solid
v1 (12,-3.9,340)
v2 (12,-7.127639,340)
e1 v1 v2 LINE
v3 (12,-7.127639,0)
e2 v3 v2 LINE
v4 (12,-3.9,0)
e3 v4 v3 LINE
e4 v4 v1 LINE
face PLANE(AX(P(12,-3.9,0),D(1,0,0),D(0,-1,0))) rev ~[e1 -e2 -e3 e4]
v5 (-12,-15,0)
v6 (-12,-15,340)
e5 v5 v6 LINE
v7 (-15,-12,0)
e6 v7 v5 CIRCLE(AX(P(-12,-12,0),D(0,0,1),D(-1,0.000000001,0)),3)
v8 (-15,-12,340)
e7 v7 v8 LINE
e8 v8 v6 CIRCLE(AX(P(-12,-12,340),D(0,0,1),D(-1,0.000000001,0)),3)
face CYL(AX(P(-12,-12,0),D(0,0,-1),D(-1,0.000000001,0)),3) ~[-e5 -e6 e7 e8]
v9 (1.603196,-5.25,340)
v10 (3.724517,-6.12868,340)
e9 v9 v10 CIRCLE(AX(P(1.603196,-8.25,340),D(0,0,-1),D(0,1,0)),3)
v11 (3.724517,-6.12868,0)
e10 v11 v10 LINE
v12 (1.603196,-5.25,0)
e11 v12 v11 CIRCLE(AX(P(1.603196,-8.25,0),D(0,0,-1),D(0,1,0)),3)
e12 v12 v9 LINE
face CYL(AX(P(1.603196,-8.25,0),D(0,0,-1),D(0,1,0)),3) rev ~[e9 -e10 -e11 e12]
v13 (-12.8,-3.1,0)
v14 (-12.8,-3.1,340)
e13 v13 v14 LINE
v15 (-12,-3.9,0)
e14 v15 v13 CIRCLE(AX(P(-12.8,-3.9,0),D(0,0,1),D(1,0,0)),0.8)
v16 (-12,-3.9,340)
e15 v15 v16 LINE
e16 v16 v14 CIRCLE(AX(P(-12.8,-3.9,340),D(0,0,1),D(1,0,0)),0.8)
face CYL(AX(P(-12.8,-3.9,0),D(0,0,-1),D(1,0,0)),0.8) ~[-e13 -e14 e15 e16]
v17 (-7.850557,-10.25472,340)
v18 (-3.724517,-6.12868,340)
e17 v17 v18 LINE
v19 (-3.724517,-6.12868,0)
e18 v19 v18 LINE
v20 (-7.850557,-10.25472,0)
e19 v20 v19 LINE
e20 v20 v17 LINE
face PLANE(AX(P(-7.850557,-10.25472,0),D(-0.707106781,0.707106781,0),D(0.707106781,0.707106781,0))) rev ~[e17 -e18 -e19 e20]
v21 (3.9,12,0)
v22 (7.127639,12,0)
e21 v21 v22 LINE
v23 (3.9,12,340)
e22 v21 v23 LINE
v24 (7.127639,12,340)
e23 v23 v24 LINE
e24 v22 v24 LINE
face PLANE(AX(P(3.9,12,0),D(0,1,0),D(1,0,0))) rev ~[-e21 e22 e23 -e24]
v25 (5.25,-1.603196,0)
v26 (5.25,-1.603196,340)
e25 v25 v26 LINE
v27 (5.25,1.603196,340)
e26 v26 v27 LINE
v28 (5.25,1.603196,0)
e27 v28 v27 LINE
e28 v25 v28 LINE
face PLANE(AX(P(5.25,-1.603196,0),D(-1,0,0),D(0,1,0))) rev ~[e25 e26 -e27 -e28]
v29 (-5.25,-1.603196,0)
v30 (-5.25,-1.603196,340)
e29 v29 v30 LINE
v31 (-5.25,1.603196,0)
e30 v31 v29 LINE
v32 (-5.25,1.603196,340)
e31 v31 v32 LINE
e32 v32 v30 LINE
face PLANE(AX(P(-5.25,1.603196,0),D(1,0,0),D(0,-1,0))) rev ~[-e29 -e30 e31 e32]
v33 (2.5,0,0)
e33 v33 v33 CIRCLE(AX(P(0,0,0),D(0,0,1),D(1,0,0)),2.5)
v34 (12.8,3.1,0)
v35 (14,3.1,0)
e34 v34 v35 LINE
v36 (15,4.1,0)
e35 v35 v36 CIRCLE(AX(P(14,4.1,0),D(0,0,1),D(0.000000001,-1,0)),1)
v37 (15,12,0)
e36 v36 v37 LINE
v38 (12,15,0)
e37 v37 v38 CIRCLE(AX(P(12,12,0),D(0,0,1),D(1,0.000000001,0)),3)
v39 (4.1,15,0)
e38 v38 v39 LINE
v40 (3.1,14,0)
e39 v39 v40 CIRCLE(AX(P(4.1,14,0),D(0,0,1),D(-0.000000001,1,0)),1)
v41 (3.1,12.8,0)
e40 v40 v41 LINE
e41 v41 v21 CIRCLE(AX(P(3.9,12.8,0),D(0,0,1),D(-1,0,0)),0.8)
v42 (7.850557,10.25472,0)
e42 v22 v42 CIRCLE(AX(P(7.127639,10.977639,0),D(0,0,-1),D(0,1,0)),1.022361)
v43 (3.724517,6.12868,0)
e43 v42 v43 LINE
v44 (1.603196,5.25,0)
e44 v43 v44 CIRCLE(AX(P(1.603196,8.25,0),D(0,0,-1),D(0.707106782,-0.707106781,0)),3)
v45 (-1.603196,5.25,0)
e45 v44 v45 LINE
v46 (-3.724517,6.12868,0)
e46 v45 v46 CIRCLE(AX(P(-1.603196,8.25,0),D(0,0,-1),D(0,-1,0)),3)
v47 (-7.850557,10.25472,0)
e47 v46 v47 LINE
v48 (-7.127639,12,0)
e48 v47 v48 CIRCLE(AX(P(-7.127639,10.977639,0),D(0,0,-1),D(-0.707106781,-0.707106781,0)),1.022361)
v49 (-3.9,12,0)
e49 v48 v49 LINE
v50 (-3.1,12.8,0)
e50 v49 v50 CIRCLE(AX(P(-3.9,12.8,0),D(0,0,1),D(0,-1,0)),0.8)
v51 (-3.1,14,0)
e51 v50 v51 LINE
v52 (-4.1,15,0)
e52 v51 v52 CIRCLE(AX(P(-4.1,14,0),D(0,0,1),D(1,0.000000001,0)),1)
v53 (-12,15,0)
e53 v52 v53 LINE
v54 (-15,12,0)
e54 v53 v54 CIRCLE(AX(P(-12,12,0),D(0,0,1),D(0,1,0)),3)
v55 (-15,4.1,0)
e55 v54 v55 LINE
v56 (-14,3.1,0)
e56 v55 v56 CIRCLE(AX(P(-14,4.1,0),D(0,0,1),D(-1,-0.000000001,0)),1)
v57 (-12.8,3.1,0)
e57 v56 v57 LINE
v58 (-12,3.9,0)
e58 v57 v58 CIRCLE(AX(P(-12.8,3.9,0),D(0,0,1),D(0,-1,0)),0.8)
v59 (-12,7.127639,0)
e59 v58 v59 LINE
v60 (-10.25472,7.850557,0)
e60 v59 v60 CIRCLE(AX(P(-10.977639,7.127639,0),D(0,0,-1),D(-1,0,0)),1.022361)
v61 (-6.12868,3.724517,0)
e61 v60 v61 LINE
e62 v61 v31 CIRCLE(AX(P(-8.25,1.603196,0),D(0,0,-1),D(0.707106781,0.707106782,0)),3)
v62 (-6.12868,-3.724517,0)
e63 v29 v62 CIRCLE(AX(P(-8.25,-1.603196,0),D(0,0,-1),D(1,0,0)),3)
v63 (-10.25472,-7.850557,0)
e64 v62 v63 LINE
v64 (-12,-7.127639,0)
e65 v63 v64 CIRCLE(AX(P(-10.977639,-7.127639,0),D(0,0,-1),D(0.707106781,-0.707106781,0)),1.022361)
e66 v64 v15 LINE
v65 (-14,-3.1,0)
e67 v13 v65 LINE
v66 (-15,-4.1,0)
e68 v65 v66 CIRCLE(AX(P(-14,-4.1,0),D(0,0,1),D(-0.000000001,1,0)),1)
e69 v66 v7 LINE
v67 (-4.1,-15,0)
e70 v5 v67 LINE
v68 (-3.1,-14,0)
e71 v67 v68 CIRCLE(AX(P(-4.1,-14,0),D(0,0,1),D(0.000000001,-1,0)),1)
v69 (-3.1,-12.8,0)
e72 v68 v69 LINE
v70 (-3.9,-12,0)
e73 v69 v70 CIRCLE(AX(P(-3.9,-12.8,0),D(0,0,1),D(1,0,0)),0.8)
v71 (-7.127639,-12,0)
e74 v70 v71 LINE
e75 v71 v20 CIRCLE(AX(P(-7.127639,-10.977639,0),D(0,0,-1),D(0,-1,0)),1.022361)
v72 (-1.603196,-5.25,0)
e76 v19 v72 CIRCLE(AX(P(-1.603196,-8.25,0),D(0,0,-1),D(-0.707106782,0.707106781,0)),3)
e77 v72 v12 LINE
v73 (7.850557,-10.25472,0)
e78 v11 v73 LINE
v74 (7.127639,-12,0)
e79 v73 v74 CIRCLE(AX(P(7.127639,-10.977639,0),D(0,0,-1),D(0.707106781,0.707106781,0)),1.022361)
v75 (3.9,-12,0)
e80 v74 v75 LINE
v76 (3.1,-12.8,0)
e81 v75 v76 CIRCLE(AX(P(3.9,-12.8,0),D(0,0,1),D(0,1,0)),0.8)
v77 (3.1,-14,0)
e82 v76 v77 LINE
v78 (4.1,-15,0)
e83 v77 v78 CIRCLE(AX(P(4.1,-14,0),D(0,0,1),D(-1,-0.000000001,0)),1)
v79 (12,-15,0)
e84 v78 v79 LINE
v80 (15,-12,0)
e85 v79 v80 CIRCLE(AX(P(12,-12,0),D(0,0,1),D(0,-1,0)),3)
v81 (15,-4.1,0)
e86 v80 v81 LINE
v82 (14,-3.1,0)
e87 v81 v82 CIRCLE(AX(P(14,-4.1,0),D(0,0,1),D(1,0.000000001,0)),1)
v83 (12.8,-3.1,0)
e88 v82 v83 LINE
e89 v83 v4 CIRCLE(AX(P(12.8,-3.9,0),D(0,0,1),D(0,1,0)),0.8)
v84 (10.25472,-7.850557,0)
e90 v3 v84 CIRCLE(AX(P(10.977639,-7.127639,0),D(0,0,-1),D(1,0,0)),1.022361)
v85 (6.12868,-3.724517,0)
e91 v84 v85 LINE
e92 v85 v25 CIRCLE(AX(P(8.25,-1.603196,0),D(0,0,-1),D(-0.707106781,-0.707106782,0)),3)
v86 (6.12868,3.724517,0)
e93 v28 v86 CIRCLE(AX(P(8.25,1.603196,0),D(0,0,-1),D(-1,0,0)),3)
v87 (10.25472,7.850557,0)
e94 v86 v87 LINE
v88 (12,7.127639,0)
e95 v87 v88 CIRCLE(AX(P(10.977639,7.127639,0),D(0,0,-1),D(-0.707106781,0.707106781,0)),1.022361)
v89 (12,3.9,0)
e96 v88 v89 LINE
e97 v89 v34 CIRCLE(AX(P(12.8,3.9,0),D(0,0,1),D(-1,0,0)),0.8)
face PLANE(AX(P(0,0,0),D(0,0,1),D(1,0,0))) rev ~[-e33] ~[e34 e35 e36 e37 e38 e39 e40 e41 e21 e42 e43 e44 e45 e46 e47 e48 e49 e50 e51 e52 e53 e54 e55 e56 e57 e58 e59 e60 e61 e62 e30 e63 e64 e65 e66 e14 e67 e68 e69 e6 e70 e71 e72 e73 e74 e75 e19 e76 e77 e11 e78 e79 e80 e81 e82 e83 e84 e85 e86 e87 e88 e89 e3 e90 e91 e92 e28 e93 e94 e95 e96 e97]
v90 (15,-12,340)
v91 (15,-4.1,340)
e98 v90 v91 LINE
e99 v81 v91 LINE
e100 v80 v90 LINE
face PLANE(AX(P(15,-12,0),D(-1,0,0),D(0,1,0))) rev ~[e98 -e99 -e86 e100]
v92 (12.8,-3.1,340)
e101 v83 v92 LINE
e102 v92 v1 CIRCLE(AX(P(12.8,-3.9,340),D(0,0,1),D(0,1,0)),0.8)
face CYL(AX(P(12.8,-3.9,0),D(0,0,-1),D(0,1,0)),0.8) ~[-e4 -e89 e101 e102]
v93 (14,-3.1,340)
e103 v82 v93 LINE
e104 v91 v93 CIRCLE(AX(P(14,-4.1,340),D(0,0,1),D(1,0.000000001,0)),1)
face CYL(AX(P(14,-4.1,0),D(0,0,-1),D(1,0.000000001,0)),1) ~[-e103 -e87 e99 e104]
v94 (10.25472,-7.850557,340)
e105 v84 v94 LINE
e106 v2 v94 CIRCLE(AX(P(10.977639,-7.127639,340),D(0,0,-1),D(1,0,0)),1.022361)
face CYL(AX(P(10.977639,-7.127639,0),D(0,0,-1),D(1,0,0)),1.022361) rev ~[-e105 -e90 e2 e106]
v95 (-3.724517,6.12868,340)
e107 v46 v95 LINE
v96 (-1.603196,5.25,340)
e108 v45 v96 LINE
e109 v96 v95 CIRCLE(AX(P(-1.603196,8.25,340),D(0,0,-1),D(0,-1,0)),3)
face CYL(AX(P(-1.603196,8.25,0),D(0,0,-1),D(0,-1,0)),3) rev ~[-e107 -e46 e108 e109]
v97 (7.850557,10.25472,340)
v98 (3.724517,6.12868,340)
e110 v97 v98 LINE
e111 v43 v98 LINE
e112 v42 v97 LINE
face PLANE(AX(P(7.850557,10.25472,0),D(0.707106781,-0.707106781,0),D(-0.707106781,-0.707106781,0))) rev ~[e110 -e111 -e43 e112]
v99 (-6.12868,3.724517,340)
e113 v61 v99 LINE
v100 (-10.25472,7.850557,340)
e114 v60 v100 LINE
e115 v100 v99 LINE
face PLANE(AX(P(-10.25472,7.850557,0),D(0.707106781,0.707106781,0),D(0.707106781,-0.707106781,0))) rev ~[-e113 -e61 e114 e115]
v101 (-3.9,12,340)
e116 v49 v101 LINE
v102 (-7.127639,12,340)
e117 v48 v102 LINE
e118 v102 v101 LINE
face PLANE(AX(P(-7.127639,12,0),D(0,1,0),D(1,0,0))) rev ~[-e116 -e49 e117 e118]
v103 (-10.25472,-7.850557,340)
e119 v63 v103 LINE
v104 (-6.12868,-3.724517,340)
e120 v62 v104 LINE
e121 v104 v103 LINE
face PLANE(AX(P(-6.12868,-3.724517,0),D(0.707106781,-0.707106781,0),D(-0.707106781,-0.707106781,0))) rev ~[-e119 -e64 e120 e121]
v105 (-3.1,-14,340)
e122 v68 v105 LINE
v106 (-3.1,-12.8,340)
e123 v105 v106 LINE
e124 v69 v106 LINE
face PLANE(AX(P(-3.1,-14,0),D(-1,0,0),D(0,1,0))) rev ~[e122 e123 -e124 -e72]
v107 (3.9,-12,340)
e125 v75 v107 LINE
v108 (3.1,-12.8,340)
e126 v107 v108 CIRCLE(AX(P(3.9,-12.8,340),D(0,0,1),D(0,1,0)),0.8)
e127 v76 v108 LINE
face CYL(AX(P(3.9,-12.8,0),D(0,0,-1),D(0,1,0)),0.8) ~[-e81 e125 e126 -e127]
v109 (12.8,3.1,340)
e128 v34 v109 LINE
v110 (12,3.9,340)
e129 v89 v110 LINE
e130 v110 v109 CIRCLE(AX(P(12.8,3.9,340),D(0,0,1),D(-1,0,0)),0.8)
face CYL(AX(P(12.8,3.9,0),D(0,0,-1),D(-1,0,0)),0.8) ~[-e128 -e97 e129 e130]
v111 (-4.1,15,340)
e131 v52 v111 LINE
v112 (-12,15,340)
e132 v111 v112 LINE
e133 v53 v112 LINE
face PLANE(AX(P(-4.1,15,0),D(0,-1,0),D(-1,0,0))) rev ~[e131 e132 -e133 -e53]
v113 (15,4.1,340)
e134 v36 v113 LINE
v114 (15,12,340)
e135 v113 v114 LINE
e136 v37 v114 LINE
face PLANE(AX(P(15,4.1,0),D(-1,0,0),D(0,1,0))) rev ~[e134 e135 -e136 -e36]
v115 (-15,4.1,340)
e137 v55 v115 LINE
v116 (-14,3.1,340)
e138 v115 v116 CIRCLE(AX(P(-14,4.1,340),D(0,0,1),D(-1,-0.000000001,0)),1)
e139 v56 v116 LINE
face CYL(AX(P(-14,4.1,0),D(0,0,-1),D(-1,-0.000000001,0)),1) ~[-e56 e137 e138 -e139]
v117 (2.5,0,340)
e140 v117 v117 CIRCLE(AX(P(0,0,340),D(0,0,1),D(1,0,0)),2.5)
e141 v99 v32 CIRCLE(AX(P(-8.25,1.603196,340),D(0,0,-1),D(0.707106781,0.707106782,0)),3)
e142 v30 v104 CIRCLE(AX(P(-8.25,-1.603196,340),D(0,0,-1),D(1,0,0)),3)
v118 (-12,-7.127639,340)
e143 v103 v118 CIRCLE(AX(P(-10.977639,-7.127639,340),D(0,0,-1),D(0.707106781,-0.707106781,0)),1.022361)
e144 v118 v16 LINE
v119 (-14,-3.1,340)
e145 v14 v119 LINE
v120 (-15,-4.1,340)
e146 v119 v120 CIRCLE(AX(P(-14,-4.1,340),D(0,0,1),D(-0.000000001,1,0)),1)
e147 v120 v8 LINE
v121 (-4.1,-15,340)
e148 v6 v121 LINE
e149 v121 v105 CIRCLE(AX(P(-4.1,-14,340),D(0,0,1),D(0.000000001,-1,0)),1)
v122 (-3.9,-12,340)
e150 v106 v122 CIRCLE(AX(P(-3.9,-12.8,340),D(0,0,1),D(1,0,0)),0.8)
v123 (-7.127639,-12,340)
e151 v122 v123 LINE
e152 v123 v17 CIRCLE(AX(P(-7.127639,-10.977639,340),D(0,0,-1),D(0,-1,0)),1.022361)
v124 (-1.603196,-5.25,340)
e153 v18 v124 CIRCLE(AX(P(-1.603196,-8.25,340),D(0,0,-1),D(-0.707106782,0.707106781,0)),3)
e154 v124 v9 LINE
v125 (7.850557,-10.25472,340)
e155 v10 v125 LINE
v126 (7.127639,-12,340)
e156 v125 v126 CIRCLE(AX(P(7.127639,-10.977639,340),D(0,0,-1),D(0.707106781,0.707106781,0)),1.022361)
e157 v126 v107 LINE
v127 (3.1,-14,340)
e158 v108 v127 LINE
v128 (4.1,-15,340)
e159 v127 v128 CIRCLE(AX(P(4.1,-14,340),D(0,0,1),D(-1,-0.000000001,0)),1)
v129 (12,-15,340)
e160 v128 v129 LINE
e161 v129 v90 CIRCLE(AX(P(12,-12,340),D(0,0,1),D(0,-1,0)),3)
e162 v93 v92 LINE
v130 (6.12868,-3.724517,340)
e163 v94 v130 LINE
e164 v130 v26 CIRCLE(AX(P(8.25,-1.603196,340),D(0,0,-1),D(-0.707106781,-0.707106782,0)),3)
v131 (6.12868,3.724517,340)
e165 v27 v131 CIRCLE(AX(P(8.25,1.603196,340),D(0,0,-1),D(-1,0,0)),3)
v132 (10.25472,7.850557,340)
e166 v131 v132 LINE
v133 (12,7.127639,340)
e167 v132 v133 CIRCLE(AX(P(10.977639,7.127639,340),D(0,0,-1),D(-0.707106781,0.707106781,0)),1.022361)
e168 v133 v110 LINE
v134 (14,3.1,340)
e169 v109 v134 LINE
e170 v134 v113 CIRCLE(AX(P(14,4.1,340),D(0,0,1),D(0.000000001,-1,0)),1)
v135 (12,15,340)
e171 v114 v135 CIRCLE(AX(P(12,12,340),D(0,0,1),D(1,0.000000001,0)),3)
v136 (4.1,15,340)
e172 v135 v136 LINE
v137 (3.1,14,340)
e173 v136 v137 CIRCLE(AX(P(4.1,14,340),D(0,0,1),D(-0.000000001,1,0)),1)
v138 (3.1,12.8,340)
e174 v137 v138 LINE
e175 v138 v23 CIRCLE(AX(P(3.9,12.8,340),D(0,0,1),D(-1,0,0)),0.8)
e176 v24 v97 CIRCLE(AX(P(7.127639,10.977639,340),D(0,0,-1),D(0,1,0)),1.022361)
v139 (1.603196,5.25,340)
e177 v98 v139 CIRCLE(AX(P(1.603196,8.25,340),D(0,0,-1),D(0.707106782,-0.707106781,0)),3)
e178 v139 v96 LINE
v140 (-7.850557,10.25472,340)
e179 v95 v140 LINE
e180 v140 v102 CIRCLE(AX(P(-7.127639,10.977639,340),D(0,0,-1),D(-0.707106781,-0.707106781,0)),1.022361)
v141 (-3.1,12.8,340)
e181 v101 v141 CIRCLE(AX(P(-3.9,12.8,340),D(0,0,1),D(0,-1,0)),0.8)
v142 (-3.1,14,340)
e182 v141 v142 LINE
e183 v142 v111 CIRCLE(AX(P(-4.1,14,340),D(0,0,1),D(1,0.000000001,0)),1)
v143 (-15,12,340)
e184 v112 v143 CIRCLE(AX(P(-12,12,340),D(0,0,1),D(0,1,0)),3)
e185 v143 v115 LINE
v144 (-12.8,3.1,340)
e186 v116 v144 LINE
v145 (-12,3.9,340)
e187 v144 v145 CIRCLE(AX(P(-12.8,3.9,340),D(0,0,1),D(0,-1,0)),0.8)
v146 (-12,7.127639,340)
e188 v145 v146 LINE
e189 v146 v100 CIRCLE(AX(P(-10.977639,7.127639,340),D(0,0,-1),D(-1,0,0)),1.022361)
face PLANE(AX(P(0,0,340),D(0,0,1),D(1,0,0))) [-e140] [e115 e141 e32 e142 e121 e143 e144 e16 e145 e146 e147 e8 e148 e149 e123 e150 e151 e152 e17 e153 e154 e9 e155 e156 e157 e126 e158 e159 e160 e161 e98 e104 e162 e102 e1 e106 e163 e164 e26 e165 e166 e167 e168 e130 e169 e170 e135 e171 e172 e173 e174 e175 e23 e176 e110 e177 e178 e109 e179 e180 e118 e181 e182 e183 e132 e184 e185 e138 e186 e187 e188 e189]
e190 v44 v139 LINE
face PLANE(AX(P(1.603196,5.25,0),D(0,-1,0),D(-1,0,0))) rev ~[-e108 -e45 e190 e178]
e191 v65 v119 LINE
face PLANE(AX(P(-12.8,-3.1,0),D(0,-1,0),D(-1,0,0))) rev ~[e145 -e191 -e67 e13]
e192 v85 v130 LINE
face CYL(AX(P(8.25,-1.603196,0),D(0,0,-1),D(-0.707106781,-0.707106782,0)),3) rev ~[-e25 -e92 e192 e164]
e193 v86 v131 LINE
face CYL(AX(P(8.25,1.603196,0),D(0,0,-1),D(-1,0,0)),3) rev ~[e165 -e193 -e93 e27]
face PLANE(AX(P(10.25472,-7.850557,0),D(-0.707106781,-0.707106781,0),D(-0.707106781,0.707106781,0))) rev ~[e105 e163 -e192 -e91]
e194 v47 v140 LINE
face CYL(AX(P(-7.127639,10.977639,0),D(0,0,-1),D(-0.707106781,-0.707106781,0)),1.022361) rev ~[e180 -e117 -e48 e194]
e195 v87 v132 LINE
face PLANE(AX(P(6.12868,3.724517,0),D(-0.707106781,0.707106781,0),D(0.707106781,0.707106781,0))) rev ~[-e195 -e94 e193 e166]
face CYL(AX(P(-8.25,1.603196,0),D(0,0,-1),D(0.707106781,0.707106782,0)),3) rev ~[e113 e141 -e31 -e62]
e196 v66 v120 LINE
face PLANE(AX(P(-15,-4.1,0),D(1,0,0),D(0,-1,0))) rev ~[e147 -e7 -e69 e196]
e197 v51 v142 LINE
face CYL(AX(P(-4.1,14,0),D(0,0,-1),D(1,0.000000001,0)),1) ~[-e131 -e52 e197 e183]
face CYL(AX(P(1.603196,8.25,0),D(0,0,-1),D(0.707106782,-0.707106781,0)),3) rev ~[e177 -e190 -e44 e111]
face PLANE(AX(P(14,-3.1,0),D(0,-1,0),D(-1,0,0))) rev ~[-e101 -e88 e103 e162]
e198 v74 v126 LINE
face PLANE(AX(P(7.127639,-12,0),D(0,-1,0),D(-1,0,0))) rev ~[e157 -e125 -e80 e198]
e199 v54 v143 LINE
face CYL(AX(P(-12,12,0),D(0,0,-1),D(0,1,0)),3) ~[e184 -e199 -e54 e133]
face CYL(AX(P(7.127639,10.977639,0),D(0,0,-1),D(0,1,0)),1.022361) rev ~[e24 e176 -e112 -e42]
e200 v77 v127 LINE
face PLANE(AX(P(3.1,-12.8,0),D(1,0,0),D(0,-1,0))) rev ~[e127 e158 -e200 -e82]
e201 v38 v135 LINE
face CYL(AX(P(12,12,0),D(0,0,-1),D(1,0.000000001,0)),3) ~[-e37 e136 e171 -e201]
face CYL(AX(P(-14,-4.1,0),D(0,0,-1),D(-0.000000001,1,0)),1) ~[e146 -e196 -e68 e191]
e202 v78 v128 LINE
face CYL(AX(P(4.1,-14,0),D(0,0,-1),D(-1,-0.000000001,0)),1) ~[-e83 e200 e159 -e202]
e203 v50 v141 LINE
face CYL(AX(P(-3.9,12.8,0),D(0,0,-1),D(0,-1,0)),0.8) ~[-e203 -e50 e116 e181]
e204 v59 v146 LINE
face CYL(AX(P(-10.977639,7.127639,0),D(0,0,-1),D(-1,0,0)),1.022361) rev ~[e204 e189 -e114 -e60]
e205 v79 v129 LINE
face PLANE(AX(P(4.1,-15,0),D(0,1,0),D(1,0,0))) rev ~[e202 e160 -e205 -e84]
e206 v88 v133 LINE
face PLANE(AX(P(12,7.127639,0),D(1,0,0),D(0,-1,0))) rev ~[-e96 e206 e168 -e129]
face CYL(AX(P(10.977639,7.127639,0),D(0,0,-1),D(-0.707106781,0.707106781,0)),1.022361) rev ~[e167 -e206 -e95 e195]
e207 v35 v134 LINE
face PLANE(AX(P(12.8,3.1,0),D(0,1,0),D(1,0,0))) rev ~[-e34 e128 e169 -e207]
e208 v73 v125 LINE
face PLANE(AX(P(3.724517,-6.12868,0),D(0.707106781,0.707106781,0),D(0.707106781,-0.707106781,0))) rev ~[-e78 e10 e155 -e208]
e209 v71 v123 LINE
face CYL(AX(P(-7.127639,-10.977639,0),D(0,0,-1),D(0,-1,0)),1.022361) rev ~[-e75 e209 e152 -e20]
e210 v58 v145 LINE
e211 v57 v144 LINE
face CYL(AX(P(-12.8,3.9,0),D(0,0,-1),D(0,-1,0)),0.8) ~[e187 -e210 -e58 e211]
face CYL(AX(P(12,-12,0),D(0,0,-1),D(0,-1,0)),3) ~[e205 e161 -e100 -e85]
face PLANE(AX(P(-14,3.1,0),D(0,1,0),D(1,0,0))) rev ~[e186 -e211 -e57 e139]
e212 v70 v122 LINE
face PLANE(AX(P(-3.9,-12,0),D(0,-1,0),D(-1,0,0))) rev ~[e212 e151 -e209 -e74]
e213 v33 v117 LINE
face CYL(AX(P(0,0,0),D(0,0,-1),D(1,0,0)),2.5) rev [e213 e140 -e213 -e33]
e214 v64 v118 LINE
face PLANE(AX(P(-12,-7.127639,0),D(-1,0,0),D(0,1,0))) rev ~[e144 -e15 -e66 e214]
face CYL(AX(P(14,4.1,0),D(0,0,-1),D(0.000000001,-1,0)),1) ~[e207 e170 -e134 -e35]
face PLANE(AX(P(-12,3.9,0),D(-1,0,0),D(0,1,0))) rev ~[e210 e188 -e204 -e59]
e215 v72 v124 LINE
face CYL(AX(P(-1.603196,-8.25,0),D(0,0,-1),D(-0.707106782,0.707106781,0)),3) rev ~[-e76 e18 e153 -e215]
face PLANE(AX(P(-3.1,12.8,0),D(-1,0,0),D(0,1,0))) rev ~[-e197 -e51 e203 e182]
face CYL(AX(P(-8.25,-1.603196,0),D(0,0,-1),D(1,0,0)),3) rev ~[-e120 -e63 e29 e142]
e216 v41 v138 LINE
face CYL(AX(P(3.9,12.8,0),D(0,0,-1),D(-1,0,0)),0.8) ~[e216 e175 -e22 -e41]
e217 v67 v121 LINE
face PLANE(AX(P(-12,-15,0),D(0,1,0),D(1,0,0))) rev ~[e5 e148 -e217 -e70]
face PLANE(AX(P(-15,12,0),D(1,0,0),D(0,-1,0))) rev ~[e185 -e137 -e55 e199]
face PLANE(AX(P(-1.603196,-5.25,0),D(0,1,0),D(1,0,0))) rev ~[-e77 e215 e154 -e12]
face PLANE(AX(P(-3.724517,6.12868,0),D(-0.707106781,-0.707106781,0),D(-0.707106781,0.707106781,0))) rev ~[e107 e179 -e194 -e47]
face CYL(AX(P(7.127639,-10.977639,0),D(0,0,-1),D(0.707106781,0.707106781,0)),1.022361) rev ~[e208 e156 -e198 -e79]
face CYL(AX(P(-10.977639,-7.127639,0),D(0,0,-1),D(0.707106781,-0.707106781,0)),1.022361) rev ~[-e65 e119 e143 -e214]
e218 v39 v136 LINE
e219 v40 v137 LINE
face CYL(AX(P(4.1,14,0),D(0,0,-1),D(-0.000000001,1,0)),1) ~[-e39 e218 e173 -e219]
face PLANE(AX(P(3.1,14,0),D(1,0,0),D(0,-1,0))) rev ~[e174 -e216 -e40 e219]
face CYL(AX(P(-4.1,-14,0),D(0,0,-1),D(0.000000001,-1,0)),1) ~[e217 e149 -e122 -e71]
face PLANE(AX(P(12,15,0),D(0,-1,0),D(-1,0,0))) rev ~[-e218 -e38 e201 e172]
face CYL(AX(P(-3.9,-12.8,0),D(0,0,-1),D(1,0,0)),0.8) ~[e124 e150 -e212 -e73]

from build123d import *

# Parameters (mm, degrees)
BOSS_EXTRU_1_DEPTH = 340


with BuildPart() as part:
    # Esquisse1 → Boss.-Extru.1 (new body)
    with BuildSketch(Plane.XY):
        with BuildLine():
            Line((-5.250000005, 1.60319626), (-5.250000005, -1.60319626))
            ThreePointArc((-5.250000005, -1.60319626), (-5.478361407, -2.751246556), (-6.128679661, -3.724516602))
            Line((-6.128679661, -3.724516602), (-10.254720421, -7.850557362))
            ThreePointArc((-10.254720421, -7.850557362), (-11.36887955, -8.072177392), (-12, -7.12763889))
            Line((-12, -7.12763889), (-12, -3.9))
            ThreePointArc((-12, -3.9), (-12.234314575, -3.334314575), (-12.8, -3.1))
            Line((-12.8, -3.1), (-14, -3.1))
            ThreePointArc((-14, -3.1), (-14.707106781, -3.392893219), (-15, -4.1))
            Line((-15, -4.1), (-15, -12))
            ThreePointArc((-15, -12), (-14.121320344, -14.121320344), (-12, -15))
            Line((-12, -15), (-4.1, -15))
            ThreePointArc((-4.1, -15), (-3.392893219, -14.707106781), (-3.1, -14))
            Line((-3.1, -14), (-3.1, -12.8))
            ThreePointArc((-3.1, -12.8), (-3.334314575, -12.234314575), (-3.9, -12))
            Line((-3.9, -12), (-7.12763889, -12))
            ThreePointArc((-7.12763889, -12), (-8.072177392, -11.36887955), (-7.850557362, -10.254720421))
            Line((-7.850557362, -10.254720421), (-3.724516602, -6.128679661))
            ThreePointArc((-3.724516602, -6.128679661), (-2.751246556, -5.478361407), (-1.60319626, -5.250000005))
            Line((-1.60319626, -5.250000005), (1.60319626, -5.250000005))
            ThreePointArc((1.60319626, -5.250000005), (2.751246556, -5.478361407), (3.724516602, -6.128679661))
            Line((3.724516602, -6.128679661), (7.850557362, -10.254720421))
            ThreePointArc((7.850557362, -10.254720421), (8.072177392, -11.36887955), (7.12763889, -12))
            Line((7.12763889, -12), (3.9, -12))
            ThreePointArc((3.9, -12), (3.334314575, -12.234314575), (3.1, -12.8))
            Line((3.1, -12.8), (3.1, -14))
            ThreePointArc((3.1, -14), (3.392893219, -14.707106781), (4.1, -15))
            Line((4.1, -15), (12, -15))
            ThreePointArc((12, -15), (14.121320343, -14.121320344), (15, -12))
            Line((15, -12), (15, -4.1))
            ThreePointArc((15, -4.1), (14.707106781, -3.392893219), (14, -3.1))
            Line((14, -3.1), (12.8, -3.1))
            ThreePointArc((12.8, -3.1), (12.234314575, -3.334314575), (12, -3.9))
            Line((12, -3.9), (12, -7.12763889))
            ThreePointArc((12, -7.12763889), (11.36887955, -8.072177392), (10.254720421, -7.850557362))
            Line((10.254720421, -7.850557362), (6.128679661, -3.724516602))
            ThreePointArc((6.128679661, -3.724516602), (5.478361407, -2.751246556), (5.250000005, -1.60319626))
            Line((5.250000005, -1.60319626), (5.250000005, 1.60319626))
            ThreePointArc((5.250000005, 1.60319626), (5.478361407, 2.751246556), (6.128679661, 3.724516602))
            Line((6.128679661, 3.724516602), (10.254720421, 7.850557362))
            ThreePointArc((10.254720421, 7.850557362), (11.36887955, 8.072177392), (12, 7.12763889))
            Line((12, 7.12763889), (12, 3.9))
            ThreePointArc((12, 3.9), (12.234314575, 3.334314575), (12.8, 3.1))
            Line((12.8, 3.1), (14, 3.1))
            ThreePointArc((14, 3.1), (14.707106781, 3.392893219), (15, 4.1))
            Line((15, 4.1), (15, 12))
            ThreePointArc((15, 12), (14.121320343, 14.121320343), (12, 15))
            Line((12, 15), (4.1, 15))
            ThreePointArc((4.1, 15), (3.392893219, 14.707106781), (3.1, 14))
            Line((3.1, 14), (3.1, 12.8))
            ThreePointArc((3.1, 12.8), (3.334314575, 12.234314575), (3.9, 12))
            Line((3.9, 12), (7.12763889, 12))
            ThreePointArc((7.12763889, 12), (8.072177392, 11.36887955), (7.850557362, 10.254720421))
            Line((7.850557362, 10.254720421), (3.724516602, 6.128679661))
            ThreePointArc((3.724516602, 6.128679661), (2.751246556, 5.478361407), (1.60319626, 5.250000005))
            Line((1.60319626, 5.250000005), (-1.60319626, 5.250000005))
            ThreePointArc((-1.60319626, 5.250000005), (-2.751246556, 5.478361407), (-3.724516602, 6.128679661))
            Line((-3.724516602, 6.128679661), (-7.850557362, 10.254720421))
            ThreePointArc((-7.850557362, 10.254720421), (-8.072177392, 11.36887955), (-7.12763889, 12))
            Line((-7.12763889, 12), (-3.9, 12))
            ThreePointArc((-3.9, 12), (-3.334314575, 12.234314575), (-3.1, 12.8))
            Line((-3.1, 12.8), (-3.1, 14))
            ThreePointArc((-3.1, 14), (-3.392893219, 14.707106781), (-4.1, 15))
            Line((-4.1, 15), (-12, 15))
            ThreePointArc((-12, 15), (-14.121320344, 14.121320343), (-15, 12))
            Line((-15, 12), (-15, 4.1))
            ThreePointArc((-15, 4.1), (-14.707106781, 3.392893219), (-14, 3.1))
            Line((-14, 3.1), (-12.8, 3.1))
            ThreePointArc((-12.8, 3.1), (-12.234314575, 3.334314575), (-12, 3.9))
            Line((-12, 3.9), (-12, 7.12763889))
            ThreePointArc((-12, 7.12763889), (-11.36887955, 8.072177392), (-10.254720421, 7.850557362))
            Line((-10.254720421, 7.850557362), (-6.128679661, 3.724516602))
            ThreePointArc((-6.128679661, 3.724516602), (-5.478361407, 2.751246556), (-5.250000005, 1.60319626))
        make_face()
        with BuildLine():
            ThreePointArc((-2.5, 0), (0, -2.5), (2.5, 0))
            ThreePointArc((2.5, 0), (0, 2.5), (-2.5, 0))
        make_face(mode=Mode.SUBTRACT)
    extrude(amount=BOSS_EXTRU_1_DEPTH)


solid = part.part
